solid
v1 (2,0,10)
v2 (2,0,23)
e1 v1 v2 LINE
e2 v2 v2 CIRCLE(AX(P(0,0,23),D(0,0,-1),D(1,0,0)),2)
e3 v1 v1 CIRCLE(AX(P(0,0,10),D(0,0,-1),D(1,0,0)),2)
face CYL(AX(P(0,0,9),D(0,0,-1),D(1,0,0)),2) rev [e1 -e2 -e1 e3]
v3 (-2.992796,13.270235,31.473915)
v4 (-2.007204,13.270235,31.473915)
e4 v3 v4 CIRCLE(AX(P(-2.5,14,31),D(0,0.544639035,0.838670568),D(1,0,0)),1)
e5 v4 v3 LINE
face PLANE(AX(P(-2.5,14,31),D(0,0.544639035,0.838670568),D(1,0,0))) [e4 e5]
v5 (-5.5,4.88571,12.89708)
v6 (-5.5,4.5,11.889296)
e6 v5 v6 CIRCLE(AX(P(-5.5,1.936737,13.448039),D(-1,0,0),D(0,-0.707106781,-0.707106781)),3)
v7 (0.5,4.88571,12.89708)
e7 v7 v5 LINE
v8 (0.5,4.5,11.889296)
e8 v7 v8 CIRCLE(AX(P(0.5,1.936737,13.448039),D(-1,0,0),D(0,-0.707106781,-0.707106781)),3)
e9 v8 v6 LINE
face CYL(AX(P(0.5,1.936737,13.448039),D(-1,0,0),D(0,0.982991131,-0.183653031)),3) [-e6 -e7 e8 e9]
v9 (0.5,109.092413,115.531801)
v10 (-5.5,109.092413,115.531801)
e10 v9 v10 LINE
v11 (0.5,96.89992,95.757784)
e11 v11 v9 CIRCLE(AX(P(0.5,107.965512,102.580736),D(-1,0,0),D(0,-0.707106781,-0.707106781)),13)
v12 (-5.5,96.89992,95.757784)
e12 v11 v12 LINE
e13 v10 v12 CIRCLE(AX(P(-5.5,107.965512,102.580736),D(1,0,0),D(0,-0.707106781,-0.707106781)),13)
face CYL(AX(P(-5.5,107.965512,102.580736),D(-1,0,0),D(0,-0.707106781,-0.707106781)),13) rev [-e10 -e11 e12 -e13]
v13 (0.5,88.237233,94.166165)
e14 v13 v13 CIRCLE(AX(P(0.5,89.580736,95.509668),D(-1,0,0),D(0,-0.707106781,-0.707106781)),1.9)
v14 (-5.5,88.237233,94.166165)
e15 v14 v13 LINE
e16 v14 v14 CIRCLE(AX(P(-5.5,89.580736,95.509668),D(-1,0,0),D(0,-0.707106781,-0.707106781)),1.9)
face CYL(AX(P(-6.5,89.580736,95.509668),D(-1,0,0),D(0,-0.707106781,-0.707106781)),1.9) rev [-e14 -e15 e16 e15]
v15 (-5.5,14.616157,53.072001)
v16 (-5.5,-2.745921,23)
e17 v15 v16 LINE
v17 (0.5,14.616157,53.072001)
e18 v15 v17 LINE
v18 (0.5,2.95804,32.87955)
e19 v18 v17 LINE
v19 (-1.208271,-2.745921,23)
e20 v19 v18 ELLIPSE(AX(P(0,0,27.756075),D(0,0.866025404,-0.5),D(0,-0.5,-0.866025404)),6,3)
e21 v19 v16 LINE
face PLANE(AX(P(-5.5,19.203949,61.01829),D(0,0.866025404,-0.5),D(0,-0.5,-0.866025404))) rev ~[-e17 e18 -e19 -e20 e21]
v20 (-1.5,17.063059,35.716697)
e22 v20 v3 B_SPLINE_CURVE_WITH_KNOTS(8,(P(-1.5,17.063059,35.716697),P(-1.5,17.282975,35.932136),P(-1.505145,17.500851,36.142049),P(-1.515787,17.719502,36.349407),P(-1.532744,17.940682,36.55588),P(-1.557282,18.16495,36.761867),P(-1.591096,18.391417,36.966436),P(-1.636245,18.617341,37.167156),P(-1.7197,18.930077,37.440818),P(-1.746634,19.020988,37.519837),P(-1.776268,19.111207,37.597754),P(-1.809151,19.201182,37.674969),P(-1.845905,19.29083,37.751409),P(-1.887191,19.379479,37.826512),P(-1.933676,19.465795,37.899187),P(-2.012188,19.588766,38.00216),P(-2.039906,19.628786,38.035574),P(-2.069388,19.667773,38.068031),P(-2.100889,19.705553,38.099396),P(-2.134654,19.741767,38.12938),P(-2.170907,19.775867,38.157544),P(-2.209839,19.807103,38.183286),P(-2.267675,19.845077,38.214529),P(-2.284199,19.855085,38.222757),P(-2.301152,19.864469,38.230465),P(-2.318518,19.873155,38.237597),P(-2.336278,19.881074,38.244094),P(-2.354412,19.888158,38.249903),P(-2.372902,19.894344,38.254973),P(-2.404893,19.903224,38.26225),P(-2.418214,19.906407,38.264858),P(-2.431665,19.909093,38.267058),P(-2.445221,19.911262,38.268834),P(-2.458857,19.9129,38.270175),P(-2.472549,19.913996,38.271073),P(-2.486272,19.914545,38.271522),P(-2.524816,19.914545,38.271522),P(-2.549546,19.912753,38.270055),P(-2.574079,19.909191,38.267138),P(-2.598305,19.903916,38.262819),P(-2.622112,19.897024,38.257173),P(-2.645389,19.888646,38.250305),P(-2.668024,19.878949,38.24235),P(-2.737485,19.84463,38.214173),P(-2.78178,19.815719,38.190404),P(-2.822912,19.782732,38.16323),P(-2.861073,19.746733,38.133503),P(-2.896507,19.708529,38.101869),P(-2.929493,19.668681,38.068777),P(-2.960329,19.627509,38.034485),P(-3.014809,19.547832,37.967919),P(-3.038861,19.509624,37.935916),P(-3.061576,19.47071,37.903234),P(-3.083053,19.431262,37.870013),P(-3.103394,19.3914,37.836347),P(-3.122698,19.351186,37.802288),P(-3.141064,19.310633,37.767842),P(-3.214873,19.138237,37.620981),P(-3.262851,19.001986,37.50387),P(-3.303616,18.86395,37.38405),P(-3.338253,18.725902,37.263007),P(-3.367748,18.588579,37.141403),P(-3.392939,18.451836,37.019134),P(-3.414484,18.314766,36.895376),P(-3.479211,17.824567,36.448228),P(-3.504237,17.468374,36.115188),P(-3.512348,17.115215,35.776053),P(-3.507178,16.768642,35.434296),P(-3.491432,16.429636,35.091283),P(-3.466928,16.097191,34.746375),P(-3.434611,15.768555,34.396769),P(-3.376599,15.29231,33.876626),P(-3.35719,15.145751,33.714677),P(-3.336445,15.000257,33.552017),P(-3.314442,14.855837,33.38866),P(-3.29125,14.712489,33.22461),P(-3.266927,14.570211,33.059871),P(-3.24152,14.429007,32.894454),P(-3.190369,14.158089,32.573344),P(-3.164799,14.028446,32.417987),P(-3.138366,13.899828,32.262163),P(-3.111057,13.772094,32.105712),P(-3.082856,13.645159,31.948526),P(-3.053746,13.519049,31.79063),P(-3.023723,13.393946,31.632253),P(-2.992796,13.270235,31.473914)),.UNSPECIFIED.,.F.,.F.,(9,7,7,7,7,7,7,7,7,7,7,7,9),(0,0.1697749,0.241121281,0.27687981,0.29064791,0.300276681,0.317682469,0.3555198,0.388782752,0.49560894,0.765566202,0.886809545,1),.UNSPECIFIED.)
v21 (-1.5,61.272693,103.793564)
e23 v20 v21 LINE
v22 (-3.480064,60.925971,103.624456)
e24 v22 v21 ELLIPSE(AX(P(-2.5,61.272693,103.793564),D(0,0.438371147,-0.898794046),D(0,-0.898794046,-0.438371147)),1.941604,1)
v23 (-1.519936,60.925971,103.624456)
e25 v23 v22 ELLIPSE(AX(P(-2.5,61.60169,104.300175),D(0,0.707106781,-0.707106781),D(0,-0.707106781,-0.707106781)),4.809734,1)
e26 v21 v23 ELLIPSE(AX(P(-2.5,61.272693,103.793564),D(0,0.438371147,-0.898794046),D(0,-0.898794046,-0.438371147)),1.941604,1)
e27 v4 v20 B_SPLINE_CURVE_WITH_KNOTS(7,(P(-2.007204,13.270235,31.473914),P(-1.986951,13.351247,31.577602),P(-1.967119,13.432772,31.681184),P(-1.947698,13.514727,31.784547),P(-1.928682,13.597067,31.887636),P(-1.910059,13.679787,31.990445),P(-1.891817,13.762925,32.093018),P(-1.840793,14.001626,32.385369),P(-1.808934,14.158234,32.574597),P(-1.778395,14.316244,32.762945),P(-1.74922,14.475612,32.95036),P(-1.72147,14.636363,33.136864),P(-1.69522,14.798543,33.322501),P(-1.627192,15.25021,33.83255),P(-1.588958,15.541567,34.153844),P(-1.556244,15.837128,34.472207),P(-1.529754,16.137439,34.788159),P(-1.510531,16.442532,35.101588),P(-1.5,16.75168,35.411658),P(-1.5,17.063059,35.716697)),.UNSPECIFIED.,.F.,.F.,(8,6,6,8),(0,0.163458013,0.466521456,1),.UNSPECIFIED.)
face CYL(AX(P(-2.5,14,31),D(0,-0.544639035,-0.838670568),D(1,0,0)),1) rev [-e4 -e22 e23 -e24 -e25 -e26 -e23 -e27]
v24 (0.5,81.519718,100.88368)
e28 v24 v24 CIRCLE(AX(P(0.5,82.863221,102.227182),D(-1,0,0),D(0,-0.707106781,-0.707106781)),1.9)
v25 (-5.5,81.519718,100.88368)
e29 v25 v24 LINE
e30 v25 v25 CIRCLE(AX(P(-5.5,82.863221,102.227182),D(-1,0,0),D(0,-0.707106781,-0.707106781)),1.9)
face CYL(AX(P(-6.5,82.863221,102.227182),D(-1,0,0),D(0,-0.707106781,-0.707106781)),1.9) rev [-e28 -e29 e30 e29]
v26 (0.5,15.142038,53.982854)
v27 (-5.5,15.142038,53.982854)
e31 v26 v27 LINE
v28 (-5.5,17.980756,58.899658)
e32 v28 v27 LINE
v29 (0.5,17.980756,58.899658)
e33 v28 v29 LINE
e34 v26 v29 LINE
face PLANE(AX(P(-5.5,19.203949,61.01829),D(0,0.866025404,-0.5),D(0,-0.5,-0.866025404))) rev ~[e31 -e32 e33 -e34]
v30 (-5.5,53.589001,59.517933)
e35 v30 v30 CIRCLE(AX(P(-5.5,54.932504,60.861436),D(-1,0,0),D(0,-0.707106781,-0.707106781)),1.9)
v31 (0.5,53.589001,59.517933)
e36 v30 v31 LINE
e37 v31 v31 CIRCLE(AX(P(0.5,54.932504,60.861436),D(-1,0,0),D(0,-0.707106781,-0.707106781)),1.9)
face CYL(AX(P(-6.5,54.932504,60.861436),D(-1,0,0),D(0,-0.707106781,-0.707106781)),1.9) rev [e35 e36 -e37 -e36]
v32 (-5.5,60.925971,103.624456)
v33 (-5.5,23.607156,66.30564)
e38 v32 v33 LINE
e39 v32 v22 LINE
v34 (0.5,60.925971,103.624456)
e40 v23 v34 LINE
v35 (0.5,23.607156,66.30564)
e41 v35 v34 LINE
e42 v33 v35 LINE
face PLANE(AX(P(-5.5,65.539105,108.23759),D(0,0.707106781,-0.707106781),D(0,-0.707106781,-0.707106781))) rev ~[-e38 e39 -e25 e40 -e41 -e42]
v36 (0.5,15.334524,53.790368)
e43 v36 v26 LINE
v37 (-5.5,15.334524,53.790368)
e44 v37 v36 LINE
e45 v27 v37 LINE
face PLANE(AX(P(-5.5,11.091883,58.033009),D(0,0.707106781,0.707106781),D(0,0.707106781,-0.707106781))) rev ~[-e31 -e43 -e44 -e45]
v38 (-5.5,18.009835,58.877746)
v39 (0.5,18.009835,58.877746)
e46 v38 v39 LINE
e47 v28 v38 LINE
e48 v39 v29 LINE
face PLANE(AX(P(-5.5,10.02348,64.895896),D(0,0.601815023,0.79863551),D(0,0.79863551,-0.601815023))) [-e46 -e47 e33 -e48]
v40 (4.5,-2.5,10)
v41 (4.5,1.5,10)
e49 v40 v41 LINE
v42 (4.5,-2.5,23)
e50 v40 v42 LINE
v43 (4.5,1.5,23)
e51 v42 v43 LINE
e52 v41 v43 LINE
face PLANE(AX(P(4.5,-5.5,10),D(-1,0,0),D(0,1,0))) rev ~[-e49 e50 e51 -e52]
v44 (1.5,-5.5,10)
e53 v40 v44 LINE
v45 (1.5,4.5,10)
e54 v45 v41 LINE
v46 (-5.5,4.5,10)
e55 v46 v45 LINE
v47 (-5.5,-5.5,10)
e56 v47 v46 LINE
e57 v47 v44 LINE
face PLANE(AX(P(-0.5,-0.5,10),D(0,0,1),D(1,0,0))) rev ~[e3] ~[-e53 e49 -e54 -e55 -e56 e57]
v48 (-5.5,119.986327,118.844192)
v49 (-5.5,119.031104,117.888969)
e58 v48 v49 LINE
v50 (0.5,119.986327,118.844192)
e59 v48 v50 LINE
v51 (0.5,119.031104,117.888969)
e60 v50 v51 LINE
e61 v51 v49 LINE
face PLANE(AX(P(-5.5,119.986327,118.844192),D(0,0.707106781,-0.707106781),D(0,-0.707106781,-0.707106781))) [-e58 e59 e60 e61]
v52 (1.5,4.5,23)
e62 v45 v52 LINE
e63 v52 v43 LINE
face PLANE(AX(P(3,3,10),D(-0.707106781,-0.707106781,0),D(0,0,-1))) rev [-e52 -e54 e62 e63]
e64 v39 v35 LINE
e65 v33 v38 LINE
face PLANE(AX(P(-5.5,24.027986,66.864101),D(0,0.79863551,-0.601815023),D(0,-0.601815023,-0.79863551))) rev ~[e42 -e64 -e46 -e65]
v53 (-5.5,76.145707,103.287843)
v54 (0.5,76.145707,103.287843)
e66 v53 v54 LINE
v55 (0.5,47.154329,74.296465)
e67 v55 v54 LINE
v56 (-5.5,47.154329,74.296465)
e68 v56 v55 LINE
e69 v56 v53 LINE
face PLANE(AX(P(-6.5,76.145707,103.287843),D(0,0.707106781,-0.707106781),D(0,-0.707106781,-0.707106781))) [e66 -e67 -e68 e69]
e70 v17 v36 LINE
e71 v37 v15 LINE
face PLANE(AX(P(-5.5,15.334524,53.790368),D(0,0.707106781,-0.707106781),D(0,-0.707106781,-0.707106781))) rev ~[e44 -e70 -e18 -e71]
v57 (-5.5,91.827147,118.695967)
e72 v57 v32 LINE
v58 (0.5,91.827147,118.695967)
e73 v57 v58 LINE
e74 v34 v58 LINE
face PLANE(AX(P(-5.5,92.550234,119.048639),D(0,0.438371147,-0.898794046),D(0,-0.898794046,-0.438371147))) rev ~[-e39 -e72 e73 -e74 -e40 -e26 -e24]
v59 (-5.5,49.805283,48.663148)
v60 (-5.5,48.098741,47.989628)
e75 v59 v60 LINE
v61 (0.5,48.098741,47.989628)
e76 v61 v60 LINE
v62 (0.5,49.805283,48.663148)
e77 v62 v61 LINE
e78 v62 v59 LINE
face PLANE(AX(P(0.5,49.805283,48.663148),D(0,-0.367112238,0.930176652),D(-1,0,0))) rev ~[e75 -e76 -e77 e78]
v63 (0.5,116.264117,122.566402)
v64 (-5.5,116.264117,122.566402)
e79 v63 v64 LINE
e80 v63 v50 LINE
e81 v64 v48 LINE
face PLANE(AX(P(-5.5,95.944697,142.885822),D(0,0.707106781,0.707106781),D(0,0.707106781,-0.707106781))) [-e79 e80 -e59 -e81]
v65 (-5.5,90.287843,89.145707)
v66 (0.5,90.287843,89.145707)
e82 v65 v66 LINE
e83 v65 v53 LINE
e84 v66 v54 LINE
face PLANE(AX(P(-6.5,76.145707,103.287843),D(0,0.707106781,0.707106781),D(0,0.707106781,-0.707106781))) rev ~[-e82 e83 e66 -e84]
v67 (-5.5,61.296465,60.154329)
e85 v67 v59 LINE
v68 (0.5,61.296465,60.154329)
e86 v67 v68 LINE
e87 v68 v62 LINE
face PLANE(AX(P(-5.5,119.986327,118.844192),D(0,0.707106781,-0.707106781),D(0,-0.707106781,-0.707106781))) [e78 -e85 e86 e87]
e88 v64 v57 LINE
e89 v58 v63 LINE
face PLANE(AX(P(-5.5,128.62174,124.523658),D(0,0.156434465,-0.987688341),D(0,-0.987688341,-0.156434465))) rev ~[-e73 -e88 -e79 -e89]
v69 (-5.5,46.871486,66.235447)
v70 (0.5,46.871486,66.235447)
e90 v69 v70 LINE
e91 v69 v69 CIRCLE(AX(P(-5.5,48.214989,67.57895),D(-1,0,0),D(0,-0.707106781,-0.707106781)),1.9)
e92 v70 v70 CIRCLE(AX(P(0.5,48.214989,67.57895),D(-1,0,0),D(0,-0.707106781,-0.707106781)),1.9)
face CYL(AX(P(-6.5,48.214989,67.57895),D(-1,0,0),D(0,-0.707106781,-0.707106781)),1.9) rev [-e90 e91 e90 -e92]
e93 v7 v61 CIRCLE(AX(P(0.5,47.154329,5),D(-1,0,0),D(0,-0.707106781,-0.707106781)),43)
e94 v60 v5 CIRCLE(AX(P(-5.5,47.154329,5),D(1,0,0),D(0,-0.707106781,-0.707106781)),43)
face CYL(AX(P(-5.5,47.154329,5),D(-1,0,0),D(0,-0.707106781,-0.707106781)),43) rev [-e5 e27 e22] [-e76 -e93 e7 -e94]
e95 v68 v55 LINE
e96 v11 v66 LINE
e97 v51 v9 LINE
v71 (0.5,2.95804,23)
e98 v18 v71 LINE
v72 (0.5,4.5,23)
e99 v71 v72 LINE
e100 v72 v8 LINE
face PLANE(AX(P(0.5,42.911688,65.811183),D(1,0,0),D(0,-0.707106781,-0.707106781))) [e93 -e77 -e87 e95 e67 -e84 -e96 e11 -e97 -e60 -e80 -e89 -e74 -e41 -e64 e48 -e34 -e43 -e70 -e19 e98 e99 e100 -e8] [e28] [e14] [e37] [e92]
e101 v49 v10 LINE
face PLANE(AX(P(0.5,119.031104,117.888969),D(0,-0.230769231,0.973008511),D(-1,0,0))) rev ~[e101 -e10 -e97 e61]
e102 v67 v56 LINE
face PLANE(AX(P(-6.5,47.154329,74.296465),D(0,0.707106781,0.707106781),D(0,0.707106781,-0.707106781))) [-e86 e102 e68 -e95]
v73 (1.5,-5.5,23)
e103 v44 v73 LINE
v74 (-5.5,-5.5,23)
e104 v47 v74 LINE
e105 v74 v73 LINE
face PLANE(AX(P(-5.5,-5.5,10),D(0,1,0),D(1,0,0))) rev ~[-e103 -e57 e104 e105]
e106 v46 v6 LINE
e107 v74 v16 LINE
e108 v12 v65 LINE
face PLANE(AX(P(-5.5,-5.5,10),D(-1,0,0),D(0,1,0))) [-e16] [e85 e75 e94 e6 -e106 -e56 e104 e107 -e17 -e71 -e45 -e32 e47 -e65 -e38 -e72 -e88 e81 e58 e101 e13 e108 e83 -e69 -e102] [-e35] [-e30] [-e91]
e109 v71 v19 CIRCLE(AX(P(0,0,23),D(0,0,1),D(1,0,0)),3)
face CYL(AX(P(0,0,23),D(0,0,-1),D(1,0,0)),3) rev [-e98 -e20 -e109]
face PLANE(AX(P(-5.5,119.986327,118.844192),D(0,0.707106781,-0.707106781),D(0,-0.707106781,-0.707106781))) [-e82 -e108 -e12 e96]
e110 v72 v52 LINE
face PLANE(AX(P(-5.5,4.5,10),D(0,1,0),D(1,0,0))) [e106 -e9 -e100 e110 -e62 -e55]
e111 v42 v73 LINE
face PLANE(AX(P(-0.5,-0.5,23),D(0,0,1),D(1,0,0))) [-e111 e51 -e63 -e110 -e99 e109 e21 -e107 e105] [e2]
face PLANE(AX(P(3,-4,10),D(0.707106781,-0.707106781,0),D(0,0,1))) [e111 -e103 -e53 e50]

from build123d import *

# Parameters (mm, degrees)
CYLINDER025_R          = 1
CYLINDER025_DEPTH      = 96
CYLINDER025_ROLL_ANGLE = -33
CYLINDER020_R          = 2
CYLINDER020_DEPTH      = 16
CYLINDER024_R          = 3
CYLINDER024_DEPTH      = 16
CYLINDER022_R          = 3
CYLINDER022_DEPTH      = 16
BOX021_W               = 26
BOX021_H               = 23
BOX021_DEPTH           = 13
CYLINDER011_R          = 1.9
CYLINDER011_DEPTH      = 12
CYLINDER012_R          = 1.9
CYLINDER012_DEPTH      = 12
CYLINDER013_R          = 1.9
CYLINDER013_DEPTH      = 12
CYLINDER014_R          = 1.9
CYLINDER014_DEPTH      = 12
BOX008_W               = 41
BOX008_H               = 20
BOX008_DEPTH           = 12
BOX019_W               = 10
BOX019_H               = 10
BOX019_DEPTH           = 10
BOX019_PLACEMENT_ANGLE = 8
BOX018_W               = 14
BOX018_H               = 10
BOX018_DEPTH           = 10
BOX018_PLACEMENT_ANGLE = 16
BOX017_W               = 65
BOX017_H               = 11
BOX017_DEPTH           = 10
BOX017_PLACEMENT_ANGLE = 15
BOX016_W               = 76
BOX016_H               = 10
BOX016_DEPTH           = 10
BOX015_W               = 49
BOX015_H               = 10
BOX015_DEPTH           = 10
BOX015_PLACEMENT_ANGLE = -19
BOX014_W               = 53
BOX014_H               = 10
BOX014_DEPTH           = 10
BOX014_PLACEMENT_ANGLE = -36
BOX013_W               = 13
BOX013_H               = 11
BOX013_DEPTH           = 10
BOX012_W               = 23
BOX012_H               = 17
BOX012_DEPTH           = 10
BOX011_W               = 41
BOX011_H               = 6
BOX011_DEPTH           = 10
CYLINDER016_R          = 43
CYLINDER016_DEPTH      = 10
CYLINDER015_R          = 13
CYLINDER015_DEPTH      = 10
BOX010_W               = 37
BOX010_H               = 8
BOX010_DEPTH           = 12
BOX009_W               = 184
BOX009_H               = 34
BOX009_DEPTH           = 6
CHAMFER_SIZE           = 6
CHAMFER001_SIZE        = 1
CUT025_PITCH_ANGLE     = 90
FILLET_R               = 3
FILLET001_R            = 3
CUT035_ROLL_ANGLE      = -45
BOX024_W               = 10
BOX024_H               = 10
BOX024_DEPTH           = 13
CHAMFER002_SIZE        = 3
CHAMFER003_SIZE        = 3


with BuildPart() as cylinder025:
    # Cylinder025 → Cylinder025 (new body)
    with BuildSketch(Plane.XY):
        Circle(CYLINDER025_R)
    extrude(amount=CYLINDER025_DEPTH)


with BuildPart() as cylinder025_1:
    # Cylinder025 roll: moved
    add(cylinder025.part.rotate(Axis((0, 0, 0), (1, 0, 0)), CYLINDER025_ROLL_ANGLE))


with BuildPart() as cylinder025_2:
    # Cylinder025 placement: moved
    add(cylinder025_1.part.moved(Location((-2.5, 14, 31))))


with BuildPart() as cylinder020:
    # Cylinder020 → Cylinder020 (new body)
    with BuildSketch(Plane.XY.offset(9)):
        Circle(CYLINDER020_R)
    extrude(amount=CYLINDER020_DEPTH)


with BuildPart() as cylinder024:
    # Cylinder024 → Cylinder024 (new body)
    with BuildSketch(Plane.XY.offset(23)):
        Circle(CYLINDER024_R)
    extrude(amount=CYLINDER024_DEPTH)


with BuildPart() as not_used_cylinder001:
    # Cylinder022 → Cylinder022 (new body)
    with BuildSketch(Plane(origin=(0, -50, 23), x_dir=(1, 0, 0), z_dir=(0, 0, 1))):
        Circle(CYLINDER022_R)
    extrude(amount=CYLINDER022_DEPTH)


with BuildPart() as cube021:
    # Box021 → Box021 (new body)
    with BuildSketch(Plane(origin=(161, 15, -3), x_dir=(1, 0, 0), z_dir=(0, 0, 1))):
        with Locations((13, 11.5)):
            Rectangle(BOX021_W, BOX021_H)
    extrude(amount=BOX021_DEPTH)


with BuildPart() as cylinder011:
    # Cylinder011 → Cylinder011 (new body)
    with BuildSketch(Plane(origin=(38, 19.5, -1), x_dir=(1, 0, 0), z_dir=(0, 0, 1))):
        Circle(CYLINDER011_R)
    extrude(amount=CYLINDER011_DEPTH)


with BuildPart() as cylinder012:
    # Cylinder012 → Cylinder012 (new body)
    with BuildSketch(Plane(origin=(38, 29, -1), x_dir=(1, 0, 0), z_dir=(0, 0, 1))):
        Circle(CYLINDER012_R)
    extrude(amount=CYLINDER012_DEPTH)


with BuildPart() as cylinder013:
    # Cylinder013 → Cylinder013 (new body)
    with BuildSketch(Plane(origin=(87, 29, -1), x_dir=(1, 0, 0), z_dir=(0, 0, 1))):
        Circle(CYLINDER013_R)
    extrude(amount=CYLINDER013_DEPTH)


with BuildPart() as cylinder014:
    # Cylinder014 → Cylinder014 (new body)
    with BuildSketch(Plane(origin=(87, 19.5, -1), x_dir=(1, 0, 0), z_dir=(0, 0, 1))):
        Circle(CYLINDER014_R)
    extrude(amount=CYLINDER014_DEPTH)


with BuildPart() as cube008:
    # Box008 → Box008 (new body)
    with BuildSketch(Plane(origin=(42, 14, -1), x_dir=(1, 0, 0), z_dir=(0, 0, 1))):
        with Locations((20.5, 10)):
            Rectangle(BOX008_W, BOX008_H)
    extrude(amount=BOX008_DEPTH)


with BuildPart() as cube019:
    # Box019 → Box019 (new body)
    with BuildSketch(Plane.XY):
        with Locations((5, 5)):
            Rectangle(BOX019_W, BOX019_H)
    extrude(amount=BOX019_DEPTH)


with BuildPart() as cube019_1:
    # Box019 placement: moved
    add(cube019.part.moved(Location((106, -7, 0))).rotate(Axis((106, -7, 0), (0, 0, 1)), BOX019_PLACEMENT_ANGLE))


with BuildPart() as cube018:
    # Box018 → Box018 (new body)
    with BuildSketch(Plane.XY):
        with Locations((7, 5)):
            Rectangle(BOX018_W, BOX018_H)
    extrude(amount=BOX018_DEPTH)


with BuildPart() as cube018_1:
    # Box018 placement: moved
    add(cube018.part.moved(Location((174, 10, 0))).rotate(Axis((174, 10, 0), (0, 0, 1)), BOX018_PLACEMENT_ANGLE))


with BuildPart() as cube017:
    # Box017 → Box017 (new body)
    with BuildSketch(Plane.XY):
        with Locations((32.5, 5.5)):
            Rectangle(BOX017_W, BOX017_H)
    extrude(amount=BOX017_DEPTH)


with BuildPart() as cube017_1:
    # Box017 placement: moved
    add(cube017.part.moved(Location((115, -7, 0))).rotate(Axis((115, -7, 0), (0, 0, 1)), BOX017_PLACEMENT_ANGLE))


with BuildPart() as cube016:
    # Box016 → Box016 (new body)
    with BuildSketch(Plane(origin=(46, -7, 0), x_dir=(1, 0, 0), z_dir=(0, 0, 1))):
        with Locations((38, 5)):
            Rectangle(BOX016_W, BOX016_H)
    extrude(amount=BOX016_DEPTH)


with BuildPart() as cube015:
    # Box015 → Box015 (new body)
    with BuildSketch(Plane.XY):
        with Locations((24.5, 5)):
            Rectangle(BOX015_W, BOX015_H)
    extrude(amount=BOX015_DEPTH)


with BuildPart() as cube015_1:
    # Box015 placement: moved
    add(cube015.part.moved(Location((16, 5, 0))).rotate(Axis((16, 5, 0), (0, 0, 1)), BOX015_PLACEMENT_ANGLE))


with BuildPart() as cube014:
    # Box014 → Box014 (new body)
    with BuildSketch(Plane.XY):
        with Locations((26.5, 5)):
            Rectangle(BOX014_W, BOX014_H)
    extrude(amount=BOX014_DEPTH)


with BuildPart() as cube014_1:
    # Box014 placement: moved
    add(cube014.part.moved(Location((-16, 28, 0))).rotate(Axis((-16, 28, 0), (0, 0, 1)), BOX014_PLACEMENT_ANGLE))


with BuildPart() as cube013:
    # Box013 → Box013 (new body)
    with BuildSketch(Plane(origin=(0, 8, 0), x_dir=(1, 0, 0), z_dir=(0, 0, 1))):
        with Locations((6.5, 5.5)):
            Rectangle(BOX013_W, BOX013_H)
    extrude(amount=BOX013_DEPTH)


with BuildPart() as cube012:
    # Box012 → Box012 (new body)
    with BuildSketch(Plane(origin=(161, 0, 0), x_dir=(1, 0, 0), z_dir=(0, 0, 1))):
        with Locations((11.5, 8.5)):
            Rectangle(BOX012_W, BOX012_H)
    extrude(amount=BOX012_DEPTH)


with BuildPart() as cube011:
    # Box011 → Box011 (new body)
    with BuildSketch(Plane(origin=(120, 0, 0), x_dir=(1, 0, 0), z_dir=(0, 0, 1))):
        with Locations((20.5, 3)):
            Rectangle(BOX011_W, BOX011_H)
    extrude(amount=BOX011_DEPTH)


with BuildPart() as cylinder016:
    # Cylinder016 → Cylinder016 (new body)
    with BuildSketch(Plane(origin=(132, 63, 0), x_dir=(1, 0, 0), z_dir=(0, 0, 1))):
        Circle(CYLINDER016_R)
    extrude(amount=CYLINDER016_DEPTH)


with BuildPart() as cylinder015:
    # Cylinder015 → Cylinder015 (new body)
    with BuildSketch(Plane(origin=(20, 37, 0), x_dir=(1, 0, 0), z_dir=(0, 0, 1))):
        Circle(CYLINDER015_R)
    extrude(amount=CYLINDER015_DEPTH)


with BuildPart() as cube010:
    # Box010 → Box010 (new body)
    with BuildSketch(Plane.XY):
        with Locations((18.5, 4)):
            Rectangle(BOX010_W, BOX010_H)
    extrude(amount=BOX010_DEPTH)


with BuildPart() as cut035:
    # Box009 → Box009 (new body)
    with BuildSketch(Plane.XY):
        with Locations((92, 17)):
            Rectangle(BOX009_W, BOX009_H)
    extrude(amount=BOX009_DEPTH)

    # Cut008: cut Cube010
    add(cube010.part, mode=Mode.SUBTRACT)

    # Cut009: cut Cylinder015
    add(cylinder015.part, mode=Mode.SUBTRACT)

    # Cut010: cut Cylinder016
    add(cylinder016.part, mode=Mode.SUBTRACT)

    # Cut011: cut Cube011
    add(cube011.part, mode=Mode.SUBTRACT)

    # Cut012: cut Cube012
    add(cube012.part, mode=Mode.SUBTRACT)

    # Cut013: cut Cube013
    add(cube013.part, mode=Mode.SUBTRACT)

    # Cut014: cut Cube014
    add(cube014_1.part, mode=Mode.SUBTRACT)

    # Cut015: cut Cube015
    add(cube015_1.part, mode=Mode.SUBTRACT)

    # Cut016: cut Cube016
    add(cube016.part, mode=Mode.SUBTRACT)

    # Cut017: cut Cube017
    add(cube017_1.part, mode=Mode.SUBTRACT)

    # Cut018: cut Cube018
    add(cube018_1.part, mode=Mode.SUBTRACT)

    # Cut019: cut Cube019
    add(cube019_1.part, mode=Mode.SUBTRACT)

    # Cut020: cut Cube008
    add(cube008.part, mode=Mode.SUBTRACT)

    # Cut021: cut Cylinder014
    add(cylinder014.part, mode=Mode.SUBTRACT)

    # Cut022: cut Cylinder013
    add(cylinder013.part, mode=Mode.SUBTRACT)

    # Cut023: cut Cylinder012
    add(cylinder012.part, mode=Mode.SUBTRACT)

    # Cut024: cut Cylinder011
    add(cylinder011.part, mode=Mode.SUBTRACT)

    # Chamfer
    chamfer_edges = [cut035.edges().sort_by_distance(p)[0] for p in [
        (7.350889, 34, 3),
    ]]
    chamfer(chamfer_edges, length=CHAMFER_SIZE)

    # Chamfer001
    chamfer001_edges = [cut035.edges().sort_by_distance(p)[0] for p in [
        (100.250984, 34, 3),
    ]]
    chamfer(chamfer001_edges, length=CHAMFER001_SIZE)

    # Cut025: cut Cube021
    add(cube021.part, mode=Mode.SUBTRACT)


with BuildPart() as cut035_1:
    # Cut025 pitch: moved
    add(cut035.part.rotate(Axis((0, 0, 0), (0, 1, 0)), CUT025_PITCH_ANGLE))


with BuildPart() as cut035_2:
    # Cut025 placement: moved
    add(cut035_1.part.moved(Location((-5.5, -24, 171))))

    # Fillet
    fillet_edges = [cut035_2.edges().sort_by_distance(p)[0] for p in [
        (-2.5, 7.250984, 10),
    ]]
    fillet(fillet_edges, radius=FILLET_R)

    # Fillet001
    fillet001_edges = [cut035_2.edges().sort_by_distance(p)[0] for p in [
        (-2.5, -7.286299, 10),
    ]]
    fillet(fillet001_edges, radius=FILLET001_R)

    # Cut035: cut Not used cylinder001
    add(not_used_cylinder001.part, mode=Mode.SUBTRACT)


with BuildPart() as cut035_3:
    # Cut035 roll: moved
    add(cut035_2.part.rotate(Axis((0, 0, 0), (1, 0, 0)), CUT035_ROLL_ANGLE))


with BuildPart() as cut035_4:
    # Cut035 placement: moved
    add(cut035_3.part.moved(Location((0, -8, 5))))


with BuildPart() as leg:
    # Box024 → Box024 (new body)
    with BuildSketch(Plane(origin=(-5.5, -5.5, 10), x_dir=(1, 0, 0), z_dir=(0, 0, 1))):
        with Locations((5, 5)):
            Rectangle(BOX024_W, BOX024_H)
    extrude(amount=BOX024_DEPTH)

    # Fusion006: union Cut035
    add(cut035_4.part)

    # Cut036: cut Cylinder024
    add(cylinder024.part, mode=Mode.SUBTRACT)

    # Cut037: cut Cylinder020
    add(cylinder020.part, mode=Mode.SUBTRACT)

    # Chamfer002
    chamfer002_edges = [leg.edges().sort_by_distance(p)[0] for p in [
        (4.5, 4.5, 16.5),
    ]]
    chamfer(chamfer002_edges, length=CHAMFER002_SIZE)

    # Chamfer003
    chamfer003_edges = [leg.edges().sort_by_distance(p)[0] for p in [
        (4.5, -5.5, 16.5),
    ]]
    chamfer(chamfer003_edges, length=CHAMFER003_SIZE)

    # Cut038: cut Cylinder025
    add(cylinder025_2.part, mode=Mode.SUBTRACT)


solid = leg.part
